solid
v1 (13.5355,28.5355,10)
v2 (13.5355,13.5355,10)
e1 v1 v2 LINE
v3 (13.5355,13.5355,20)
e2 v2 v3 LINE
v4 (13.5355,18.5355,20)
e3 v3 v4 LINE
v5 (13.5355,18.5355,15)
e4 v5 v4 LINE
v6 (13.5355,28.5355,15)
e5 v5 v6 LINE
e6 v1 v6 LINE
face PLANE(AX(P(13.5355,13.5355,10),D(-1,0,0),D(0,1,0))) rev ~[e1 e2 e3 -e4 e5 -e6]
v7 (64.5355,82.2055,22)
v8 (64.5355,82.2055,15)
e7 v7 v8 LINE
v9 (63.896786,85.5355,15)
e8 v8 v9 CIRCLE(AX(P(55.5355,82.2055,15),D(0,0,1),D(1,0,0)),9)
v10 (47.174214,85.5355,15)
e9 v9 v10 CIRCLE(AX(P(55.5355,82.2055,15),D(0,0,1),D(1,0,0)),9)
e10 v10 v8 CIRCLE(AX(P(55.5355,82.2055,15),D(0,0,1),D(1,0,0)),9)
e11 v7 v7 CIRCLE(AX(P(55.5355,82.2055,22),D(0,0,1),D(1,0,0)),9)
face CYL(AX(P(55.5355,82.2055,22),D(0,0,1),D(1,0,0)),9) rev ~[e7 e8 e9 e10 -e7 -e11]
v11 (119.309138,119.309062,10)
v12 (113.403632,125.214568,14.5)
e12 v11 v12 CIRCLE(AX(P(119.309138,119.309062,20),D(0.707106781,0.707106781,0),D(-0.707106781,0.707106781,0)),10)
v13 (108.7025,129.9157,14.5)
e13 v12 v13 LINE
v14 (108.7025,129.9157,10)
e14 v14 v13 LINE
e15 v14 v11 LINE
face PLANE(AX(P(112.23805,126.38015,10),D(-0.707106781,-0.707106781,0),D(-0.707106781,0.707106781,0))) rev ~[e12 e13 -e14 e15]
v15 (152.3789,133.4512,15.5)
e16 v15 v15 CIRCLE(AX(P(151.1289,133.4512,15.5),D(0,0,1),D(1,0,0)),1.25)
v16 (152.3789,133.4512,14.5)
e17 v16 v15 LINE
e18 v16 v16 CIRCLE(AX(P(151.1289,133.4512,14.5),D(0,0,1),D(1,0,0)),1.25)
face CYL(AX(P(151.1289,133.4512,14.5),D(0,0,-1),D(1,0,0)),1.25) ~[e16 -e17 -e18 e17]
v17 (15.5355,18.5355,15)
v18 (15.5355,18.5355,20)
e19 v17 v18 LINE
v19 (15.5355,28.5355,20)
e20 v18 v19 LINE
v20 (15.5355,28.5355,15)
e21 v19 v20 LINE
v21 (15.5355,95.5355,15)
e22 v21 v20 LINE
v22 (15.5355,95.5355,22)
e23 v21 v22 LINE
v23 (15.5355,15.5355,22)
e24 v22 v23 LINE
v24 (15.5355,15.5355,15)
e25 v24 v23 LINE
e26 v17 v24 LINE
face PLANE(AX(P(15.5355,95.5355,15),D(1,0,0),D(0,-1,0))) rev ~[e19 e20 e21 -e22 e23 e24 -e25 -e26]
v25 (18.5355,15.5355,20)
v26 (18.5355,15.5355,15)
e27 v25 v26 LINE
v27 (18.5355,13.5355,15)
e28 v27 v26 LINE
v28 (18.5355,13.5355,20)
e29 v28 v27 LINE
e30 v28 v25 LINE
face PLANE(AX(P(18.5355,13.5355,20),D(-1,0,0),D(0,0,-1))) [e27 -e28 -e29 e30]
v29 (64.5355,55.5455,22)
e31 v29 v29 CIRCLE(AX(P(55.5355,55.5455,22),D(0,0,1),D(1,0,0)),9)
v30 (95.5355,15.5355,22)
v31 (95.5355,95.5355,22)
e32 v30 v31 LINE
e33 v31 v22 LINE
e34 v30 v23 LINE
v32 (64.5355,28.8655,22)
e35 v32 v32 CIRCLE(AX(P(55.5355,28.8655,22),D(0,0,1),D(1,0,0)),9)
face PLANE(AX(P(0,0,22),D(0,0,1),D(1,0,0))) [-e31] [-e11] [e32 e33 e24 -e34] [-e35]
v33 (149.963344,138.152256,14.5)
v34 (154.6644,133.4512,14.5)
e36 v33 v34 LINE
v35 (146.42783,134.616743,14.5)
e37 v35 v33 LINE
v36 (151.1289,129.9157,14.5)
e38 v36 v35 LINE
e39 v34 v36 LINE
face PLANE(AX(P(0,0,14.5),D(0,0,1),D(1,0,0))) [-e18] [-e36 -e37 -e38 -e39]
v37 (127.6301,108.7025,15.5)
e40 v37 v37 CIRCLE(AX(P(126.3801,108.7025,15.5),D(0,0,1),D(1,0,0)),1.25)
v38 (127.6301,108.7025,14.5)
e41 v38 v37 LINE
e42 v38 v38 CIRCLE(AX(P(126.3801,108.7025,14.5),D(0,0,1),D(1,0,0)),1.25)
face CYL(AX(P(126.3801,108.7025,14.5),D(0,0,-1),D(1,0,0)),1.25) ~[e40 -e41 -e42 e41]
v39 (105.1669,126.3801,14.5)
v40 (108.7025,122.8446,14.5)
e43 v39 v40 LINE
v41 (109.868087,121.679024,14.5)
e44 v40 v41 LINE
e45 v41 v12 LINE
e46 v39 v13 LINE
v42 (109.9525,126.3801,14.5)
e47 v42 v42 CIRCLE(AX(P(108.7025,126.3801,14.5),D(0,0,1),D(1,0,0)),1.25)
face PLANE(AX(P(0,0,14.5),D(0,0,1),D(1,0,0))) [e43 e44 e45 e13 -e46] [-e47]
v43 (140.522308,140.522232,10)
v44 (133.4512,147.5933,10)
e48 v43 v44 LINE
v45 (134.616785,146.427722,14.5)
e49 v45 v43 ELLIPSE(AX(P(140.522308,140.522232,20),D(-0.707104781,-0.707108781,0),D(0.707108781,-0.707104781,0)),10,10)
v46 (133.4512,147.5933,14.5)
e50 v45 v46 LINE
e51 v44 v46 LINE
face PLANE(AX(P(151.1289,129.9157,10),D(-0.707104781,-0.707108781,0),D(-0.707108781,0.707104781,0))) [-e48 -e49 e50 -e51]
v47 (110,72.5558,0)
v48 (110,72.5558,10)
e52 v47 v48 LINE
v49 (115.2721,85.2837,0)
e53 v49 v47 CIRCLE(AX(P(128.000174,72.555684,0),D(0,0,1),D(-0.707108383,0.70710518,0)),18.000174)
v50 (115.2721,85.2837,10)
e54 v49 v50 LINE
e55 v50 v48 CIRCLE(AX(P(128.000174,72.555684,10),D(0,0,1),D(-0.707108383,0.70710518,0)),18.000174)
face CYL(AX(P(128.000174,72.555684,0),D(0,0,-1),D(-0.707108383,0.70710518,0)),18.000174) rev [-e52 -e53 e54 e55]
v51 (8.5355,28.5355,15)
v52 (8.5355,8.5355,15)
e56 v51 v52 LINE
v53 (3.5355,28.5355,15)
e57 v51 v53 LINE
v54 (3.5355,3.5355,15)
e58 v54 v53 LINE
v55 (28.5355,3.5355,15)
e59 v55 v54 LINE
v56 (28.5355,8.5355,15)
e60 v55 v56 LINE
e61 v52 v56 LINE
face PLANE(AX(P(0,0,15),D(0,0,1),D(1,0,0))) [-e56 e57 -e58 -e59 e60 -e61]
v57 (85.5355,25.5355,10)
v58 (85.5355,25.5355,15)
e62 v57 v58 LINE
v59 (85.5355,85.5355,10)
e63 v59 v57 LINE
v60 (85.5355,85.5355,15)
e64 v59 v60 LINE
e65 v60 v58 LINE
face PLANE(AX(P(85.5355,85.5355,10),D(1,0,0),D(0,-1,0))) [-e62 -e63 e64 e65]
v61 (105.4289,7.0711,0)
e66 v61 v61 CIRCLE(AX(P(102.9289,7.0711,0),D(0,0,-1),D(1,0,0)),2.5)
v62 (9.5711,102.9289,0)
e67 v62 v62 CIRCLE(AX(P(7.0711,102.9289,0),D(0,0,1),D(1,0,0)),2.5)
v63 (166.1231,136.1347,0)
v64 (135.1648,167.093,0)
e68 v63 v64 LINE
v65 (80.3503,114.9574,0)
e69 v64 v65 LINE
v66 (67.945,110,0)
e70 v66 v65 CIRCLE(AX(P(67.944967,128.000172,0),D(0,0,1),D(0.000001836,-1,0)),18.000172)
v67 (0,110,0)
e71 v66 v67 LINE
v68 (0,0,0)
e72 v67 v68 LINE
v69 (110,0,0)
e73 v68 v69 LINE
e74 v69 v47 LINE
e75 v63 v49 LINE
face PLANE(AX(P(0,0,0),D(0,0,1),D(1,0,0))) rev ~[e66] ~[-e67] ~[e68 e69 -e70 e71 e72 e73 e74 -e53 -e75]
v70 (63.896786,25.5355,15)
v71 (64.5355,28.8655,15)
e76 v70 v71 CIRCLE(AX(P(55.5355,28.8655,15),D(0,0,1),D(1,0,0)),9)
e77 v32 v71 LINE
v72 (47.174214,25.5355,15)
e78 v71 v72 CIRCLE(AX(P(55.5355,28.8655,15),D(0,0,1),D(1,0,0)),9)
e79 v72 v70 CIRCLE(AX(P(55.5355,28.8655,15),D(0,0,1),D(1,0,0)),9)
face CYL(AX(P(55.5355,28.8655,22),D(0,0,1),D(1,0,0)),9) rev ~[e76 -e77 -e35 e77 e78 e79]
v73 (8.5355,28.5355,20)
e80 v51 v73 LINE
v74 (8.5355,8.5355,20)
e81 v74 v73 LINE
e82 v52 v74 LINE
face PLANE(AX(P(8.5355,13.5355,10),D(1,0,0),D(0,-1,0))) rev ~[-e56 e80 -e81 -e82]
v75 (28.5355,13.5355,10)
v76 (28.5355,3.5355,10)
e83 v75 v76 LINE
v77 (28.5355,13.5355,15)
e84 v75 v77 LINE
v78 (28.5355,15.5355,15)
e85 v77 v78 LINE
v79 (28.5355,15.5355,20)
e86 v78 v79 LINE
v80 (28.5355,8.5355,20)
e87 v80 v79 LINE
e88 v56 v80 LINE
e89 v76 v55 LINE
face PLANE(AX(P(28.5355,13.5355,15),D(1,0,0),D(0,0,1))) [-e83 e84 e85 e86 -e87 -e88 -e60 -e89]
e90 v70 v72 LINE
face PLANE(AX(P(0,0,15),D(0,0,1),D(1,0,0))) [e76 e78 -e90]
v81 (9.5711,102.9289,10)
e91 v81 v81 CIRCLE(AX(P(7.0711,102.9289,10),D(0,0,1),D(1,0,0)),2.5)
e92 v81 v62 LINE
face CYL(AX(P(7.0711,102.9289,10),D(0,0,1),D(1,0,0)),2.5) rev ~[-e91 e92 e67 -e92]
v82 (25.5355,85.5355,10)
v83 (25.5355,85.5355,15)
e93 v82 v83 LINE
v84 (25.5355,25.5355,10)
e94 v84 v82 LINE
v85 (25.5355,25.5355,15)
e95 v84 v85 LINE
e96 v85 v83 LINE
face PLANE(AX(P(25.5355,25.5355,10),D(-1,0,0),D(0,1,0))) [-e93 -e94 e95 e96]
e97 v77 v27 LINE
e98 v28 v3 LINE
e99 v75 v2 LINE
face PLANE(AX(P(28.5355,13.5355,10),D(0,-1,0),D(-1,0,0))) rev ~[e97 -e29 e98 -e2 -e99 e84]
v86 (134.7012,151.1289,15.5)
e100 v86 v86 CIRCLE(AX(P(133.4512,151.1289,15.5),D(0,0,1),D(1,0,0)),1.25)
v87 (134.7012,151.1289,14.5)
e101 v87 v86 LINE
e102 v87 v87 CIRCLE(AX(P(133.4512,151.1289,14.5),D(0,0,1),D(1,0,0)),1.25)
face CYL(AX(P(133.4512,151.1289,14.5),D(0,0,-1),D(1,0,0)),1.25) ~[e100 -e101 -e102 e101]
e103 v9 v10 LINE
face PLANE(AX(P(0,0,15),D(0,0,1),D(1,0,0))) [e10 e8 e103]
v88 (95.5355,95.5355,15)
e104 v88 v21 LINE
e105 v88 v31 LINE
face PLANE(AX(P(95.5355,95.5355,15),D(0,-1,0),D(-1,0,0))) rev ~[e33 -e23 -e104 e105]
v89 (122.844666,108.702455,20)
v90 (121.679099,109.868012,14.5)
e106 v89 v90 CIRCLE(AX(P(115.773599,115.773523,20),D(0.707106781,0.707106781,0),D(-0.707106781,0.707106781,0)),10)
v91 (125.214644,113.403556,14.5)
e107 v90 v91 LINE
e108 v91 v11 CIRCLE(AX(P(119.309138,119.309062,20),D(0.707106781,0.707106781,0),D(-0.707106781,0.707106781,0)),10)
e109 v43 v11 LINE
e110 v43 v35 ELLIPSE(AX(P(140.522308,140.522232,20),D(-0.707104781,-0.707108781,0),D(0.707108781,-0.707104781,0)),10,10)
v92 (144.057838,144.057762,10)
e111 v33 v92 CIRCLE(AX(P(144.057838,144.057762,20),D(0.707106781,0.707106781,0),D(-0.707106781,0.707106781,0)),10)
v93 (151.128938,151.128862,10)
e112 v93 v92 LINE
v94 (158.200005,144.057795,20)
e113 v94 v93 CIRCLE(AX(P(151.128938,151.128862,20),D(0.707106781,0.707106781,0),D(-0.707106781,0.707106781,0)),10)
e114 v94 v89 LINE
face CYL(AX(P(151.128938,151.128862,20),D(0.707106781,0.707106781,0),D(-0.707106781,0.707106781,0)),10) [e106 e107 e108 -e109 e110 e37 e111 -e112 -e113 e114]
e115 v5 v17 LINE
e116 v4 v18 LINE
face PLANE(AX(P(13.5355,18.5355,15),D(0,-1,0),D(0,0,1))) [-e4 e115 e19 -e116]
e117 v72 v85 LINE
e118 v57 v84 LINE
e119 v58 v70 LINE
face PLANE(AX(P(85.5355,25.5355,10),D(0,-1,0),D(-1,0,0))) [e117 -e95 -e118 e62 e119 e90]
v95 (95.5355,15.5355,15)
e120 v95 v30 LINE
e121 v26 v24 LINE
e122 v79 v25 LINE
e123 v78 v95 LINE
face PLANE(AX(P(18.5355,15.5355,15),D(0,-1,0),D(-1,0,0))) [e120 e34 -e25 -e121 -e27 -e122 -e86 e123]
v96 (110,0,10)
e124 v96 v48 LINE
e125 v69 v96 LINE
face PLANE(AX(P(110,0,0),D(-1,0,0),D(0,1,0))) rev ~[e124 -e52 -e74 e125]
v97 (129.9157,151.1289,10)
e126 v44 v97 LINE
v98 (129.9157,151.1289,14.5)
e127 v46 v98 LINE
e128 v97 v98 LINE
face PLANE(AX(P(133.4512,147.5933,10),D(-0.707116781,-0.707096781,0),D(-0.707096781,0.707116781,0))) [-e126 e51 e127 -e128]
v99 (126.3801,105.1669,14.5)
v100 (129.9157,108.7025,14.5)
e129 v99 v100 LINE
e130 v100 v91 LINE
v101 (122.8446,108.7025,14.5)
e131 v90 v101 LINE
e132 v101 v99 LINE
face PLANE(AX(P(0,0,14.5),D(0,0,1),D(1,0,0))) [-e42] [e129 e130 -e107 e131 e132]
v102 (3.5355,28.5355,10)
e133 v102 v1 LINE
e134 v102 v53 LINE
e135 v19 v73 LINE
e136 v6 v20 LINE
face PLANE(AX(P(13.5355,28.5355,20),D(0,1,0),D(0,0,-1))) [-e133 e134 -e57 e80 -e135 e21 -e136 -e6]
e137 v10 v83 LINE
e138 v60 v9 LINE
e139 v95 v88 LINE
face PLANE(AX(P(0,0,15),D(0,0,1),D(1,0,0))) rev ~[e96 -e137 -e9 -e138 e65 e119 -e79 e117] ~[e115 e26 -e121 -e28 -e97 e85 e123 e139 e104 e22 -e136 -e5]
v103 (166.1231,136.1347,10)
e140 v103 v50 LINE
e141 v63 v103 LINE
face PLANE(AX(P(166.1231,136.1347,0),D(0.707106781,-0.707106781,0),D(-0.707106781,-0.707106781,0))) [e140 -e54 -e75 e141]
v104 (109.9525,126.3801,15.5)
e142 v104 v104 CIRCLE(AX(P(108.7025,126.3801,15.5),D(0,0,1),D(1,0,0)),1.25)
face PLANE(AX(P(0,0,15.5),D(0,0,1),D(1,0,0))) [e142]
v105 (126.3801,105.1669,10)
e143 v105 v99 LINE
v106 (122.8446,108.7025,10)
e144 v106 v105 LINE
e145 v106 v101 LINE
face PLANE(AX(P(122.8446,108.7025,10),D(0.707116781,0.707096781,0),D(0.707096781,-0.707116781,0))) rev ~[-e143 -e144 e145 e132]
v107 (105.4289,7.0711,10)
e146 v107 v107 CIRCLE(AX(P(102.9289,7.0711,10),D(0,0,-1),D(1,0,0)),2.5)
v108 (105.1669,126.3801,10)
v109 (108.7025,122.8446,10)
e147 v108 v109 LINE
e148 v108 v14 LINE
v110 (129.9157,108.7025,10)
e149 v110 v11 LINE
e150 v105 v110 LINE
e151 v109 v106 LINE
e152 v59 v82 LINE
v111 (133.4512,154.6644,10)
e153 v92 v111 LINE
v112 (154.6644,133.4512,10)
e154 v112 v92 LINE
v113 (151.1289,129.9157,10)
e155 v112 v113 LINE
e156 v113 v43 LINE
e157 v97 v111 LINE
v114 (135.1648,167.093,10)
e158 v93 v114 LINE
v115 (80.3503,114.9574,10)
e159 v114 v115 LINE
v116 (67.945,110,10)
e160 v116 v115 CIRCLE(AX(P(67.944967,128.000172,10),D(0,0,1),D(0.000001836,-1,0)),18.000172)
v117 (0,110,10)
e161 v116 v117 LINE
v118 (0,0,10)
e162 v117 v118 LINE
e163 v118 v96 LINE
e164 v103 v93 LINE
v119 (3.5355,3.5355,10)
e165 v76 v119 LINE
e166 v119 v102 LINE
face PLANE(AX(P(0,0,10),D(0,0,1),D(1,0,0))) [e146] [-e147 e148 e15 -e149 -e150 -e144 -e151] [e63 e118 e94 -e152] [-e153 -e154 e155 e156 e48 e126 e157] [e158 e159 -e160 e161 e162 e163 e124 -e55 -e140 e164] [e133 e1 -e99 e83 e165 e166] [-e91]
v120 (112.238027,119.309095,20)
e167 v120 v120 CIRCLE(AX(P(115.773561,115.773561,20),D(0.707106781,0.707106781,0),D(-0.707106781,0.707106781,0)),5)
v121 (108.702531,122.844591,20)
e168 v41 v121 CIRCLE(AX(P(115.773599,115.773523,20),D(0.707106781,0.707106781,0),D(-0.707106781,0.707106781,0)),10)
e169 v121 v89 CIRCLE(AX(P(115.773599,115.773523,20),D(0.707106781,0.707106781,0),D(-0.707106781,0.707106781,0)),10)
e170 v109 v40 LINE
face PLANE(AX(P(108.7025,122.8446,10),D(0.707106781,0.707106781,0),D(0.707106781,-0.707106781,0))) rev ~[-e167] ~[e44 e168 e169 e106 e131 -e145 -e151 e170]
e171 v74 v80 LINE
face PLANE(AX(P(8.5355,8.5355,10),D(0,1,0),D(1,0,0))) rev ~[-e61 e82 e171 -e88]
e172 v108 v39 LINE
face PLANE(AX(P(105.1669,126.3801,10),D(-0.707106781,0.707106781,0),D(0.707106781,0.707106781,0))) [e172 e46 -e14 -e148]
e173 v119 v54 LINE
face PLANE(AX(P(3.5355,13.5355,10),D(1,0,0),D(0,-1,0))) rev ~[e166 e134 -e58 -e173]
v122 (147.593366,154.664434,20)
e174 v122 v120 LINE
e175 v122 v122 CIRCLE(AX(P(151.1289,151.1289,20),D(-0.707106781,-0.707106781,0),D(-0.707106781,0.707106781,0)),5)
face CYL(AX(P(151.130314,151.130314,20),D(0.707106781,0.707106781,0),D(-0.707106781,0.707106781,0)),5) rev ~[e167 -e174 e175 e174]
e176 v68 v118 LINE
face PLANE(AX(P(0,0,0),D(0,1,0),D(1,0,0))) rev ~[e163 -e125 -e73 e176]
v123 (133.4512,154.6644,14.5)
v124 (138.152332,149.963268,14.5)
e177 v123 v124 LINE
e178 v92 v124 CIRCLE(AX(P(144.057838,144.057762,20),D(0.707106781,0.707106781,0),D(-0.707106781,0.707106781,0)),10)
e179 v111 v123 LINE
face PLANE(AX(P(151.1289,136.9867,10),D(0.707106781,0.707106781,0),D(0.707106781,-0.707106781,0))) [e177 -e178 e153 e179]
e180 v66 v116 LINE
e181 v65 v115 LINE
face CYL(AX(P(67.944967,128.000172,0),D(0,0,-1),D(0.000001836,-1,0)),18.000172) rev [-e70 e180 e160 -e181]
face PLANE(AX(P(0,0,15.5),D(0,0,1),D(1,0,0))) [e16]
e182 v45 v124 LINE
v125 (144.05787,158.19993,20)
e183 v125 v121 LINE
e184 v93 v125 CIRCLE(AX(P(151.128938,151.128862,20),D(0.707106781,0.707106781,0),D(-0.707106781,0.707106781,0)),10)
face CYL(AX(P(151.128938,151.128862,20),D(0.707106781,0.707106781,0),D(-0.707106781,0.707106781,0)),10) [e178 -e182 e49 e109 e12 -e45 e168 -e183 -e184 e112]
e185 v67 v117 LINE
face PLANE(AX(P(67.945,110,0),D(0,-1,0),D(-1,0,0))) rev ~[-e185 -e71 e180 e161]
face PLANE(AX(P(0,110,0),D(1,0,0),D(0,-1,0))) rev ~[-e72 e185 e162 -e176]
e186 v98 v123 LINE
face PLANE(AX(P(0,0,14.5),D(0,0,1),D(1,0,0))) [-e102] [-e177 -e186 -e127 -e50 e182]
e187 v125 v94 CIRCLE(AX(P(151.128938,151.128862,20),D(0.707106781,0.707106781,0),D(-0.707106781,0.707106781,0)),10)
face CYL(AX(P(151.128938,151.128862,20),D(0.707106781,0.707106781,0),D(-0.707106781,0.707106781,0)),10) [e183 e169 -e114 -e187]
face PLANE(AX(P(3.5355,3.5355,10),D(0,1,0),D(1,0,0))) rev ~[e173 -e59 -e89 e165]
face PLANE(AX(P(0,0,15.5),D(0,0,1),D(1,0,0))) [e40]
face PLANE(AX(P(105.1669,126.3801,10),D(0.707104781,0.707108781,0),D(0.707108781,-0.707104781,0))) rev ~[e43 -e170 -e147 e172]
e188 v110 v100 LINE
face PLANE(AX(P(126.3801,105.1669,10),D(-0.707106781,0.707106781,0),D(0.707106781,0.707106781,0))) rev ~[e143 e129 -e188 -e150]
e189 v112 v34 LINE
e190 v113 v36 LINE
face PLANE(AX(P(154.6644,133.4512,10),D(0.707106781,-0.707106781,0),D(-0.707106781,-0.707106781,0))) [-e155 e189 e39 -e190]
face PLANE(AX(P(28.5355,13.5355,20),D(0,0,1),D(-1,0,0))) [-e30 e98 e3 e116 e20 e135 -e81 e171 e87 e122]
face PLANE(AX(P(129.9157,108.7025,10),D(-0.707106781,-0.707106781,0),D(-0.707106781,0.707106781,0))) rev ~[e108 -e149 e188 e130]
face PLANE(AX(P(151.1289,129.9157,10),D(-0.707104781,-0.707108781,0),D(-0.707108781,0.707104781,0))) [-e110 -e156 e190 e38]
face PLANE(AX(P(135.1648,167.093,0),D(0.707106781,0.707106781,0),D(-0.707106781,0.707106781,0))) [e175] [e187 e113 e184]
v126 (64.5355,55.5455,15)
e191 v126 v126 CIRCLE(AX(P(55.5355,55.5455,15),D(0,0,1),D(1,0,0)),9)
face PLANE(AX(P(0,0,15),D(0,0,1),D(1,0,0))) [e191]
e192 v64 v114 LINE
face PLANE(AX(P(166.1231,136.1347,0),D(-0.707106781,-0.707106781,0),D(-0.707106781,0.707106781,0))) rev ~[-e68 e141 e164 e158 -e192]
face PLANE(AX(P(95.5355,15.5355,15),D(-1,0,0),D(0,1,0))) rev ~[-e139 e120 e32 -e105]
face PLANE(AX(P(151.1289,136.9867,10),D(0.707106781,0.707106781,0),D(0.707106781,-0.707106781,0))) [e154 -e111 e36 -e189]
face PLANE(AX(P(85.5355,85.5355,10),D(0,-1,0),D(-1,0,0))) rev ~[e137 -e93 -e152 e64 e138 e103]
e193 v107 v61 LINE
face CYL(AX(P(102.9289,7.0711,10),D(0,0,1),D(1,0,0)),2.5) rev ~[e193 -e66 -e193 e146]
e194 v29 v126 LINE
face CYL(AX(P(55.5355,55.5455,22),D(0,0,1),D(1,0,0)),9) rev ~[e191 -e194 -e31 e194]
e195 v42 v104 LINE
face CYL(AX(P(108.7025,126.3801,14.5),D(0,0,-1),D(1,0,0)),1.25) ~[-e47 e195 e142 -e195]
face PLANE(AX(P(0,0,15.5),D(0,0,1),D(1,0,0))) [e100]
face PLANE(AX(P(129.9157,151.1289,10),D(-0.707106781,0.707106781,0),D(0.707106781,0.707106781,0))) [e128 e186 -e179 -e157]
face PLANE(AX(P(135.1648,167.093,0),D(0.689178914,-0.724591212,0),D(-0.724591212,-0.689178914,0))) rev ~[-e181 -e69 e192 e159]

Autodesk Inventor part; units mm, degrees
ref_plane "YZ Plane" through (0, 0, 0) normal (1, 0, 0) x (0, 1, 0)
ref_plane "XZ Plane" through (0, 0, 0) normal (0, 1, 0) x (-1, 0, 0)
ref_plane "XY Plane" through (0, 0, 0) normal (0, 0, 1) x (1, 0, 0)
sketch "Náčrt1" plane through (0, 0, 0) normal (0, 0, 1) x (1, 0, 0)
  line L0 (0, 0) -> (110, 0)
  line L1 (110, 0) -> (110, 72.5558)
  line L2 (67.945, 110) -> (0, 110)
  line L3 (0, 110) -> (0, 0)
  line L4 (0, 0) -> (268.4899, 0) construction
  line L5 (166.1231, 136.1347) -> (115.2721, 85.2837)
  line L6 (135.1648, 167.093) -> (80.3503, 114.9574)
  line L7 (166.1231, 136.1347) -> (135.1648, 167.093)
  arc A0 (115.2721, 85.2837) -> (110, 72.5558) centre (128, 72.5558) ccw
  arc A1 (67.945, 110) -> (80.3503, 114.9574) centre (67.945, 128) ccw
extrude "Vysunutí1" add sketch "Náčrt1" along normal blind 10
sketch "Náčrt2" plane through (0, 0, 10) normal (0, 0, 1) x (1, 0, 0)
  line L0 (0, 0) -> (110, 0) projected
  line L1 (0, 0) -> (5, 0) construction
  line L2 (3.5355, 3.5355) -> (13.5355, 3.5355)
  line L3 (8.5355, 28.5355) -> (3.5355, 28.5355)
  line L4 (3.5355, 28.5355) -> (3.5355, 3.5355)
  line L5 (3.5355, 3.5355) -> (28.5355, 3.5355)
  line L6 (28.5355, 3.5355) -> (28.5355, 8.5355)
  line L7 (3.5355, 13.5355) -> (3.5355, 3.5355)
  line L8 (13.5355, 28.5355) -> (8.5355, 28.5355)
  line L9 (8.5355, 28.5355) -> (8.5355, 13.5355)
  line L10 (13.5355, 13.5355) -> (13.5355, 18.5355)
  line L11 (28.5355, 13.5355) -> (13.5355, 13.5355)
  line L12 (8.5355, 13.5355) -> (8.5355, 8.5355)
  line L13 (8.5355, 8.5355) -> (28.5355, 8.5355)
  line L14 (28.5355, 8.5355) -> (28.5355, 13.5355)
  line L15 (13.5355, 28.5355) -> (13.5355, 18.5355)
  line L16 (13.5355, 18.5355) -> (8.5355, 18.5355)
extrude "Vysunutí2" add sketch "Náčrt2" along normal blind 5 contours L4 L3 L9 L12 L13 L6 L5 L2
extrude "Vysunutí3" add sketch "Náčrt2" along normal blind 10 contours L13 L12 L9 L16 L10 L11 L14 | L8 L15 L16 L9
sketch "Náčrt5" plane through (13.5355, 13.5355, 10) normal (1, 0, 0) x (0, 0, -1)
  line L0 (-5, -5) -> (-5, 15) projected
  line L1 (-10, 15) -> (-5, 15)
  line L2 (-5, 15) -> (-5, 5)
  line L3 (-5, 5) -> (-10, 5)
  line L4 (-10, 5) -> (-10, 15)
  point P0 (10, -13.5355)
extrude "Vysunutí4" add sketch "Náčrt5" along normal blind 2
sketch "Náčrt7" plane through (13.5355, 13.5355, 10) normal (0, 1, 0) x (1, 0, 0)
  line L0 (15, -10) -> (0, -10) projected
  line L1 (15, -5) -> (-5, -5) projected
  line L2 (15, -10) -> (5, -10)
  line L3 (5, -10) -> (5, -5)
  line L4 (5, -5) -> (15, -5)
  line L5 (15, -5) -> (15, -10)
  point P0 (-13.5355, 10)
extrude "Vysunutí5" add sketch "Náčrt7" along normal blind 2
sketch "Náčrt8" plane through (0, 0, 10) normal (0, 0, 1) x (1, 0, 0)
  line L0 (0, 110) -> (0, 0) projected
  line L1 (0, 110) -> (10, 110) construction
  circle A0 centre (7.0711, 102.9289) radius 2.5
extrude "Vysunutí6" cut sketch "Náčrt8" against normal blind 20
sketch "Náčrt9" plane through (0, 0, 10) normal (0, 0, 1) x (1, 0, 0)
  line L0 (0, 0) -> (110, 0) projected
  line L1 (110, 0) -> (102.9289, 7.0711)
  line L2 (110, 0) -> (120, 0) construction
  circle A0 centre (102.9289, 7.0711) radius 2.5
  dimension "d36" = 5
extrude "Vysunutí7" cut sketch "Náčrt9" against normal blind 20
sketch "Náčrt13" plane through (135.1648, 167.093, 0) normal (0.7071, 0.7071, 0) x (-0.7071, 0.7071, 0)
  line L0 (-22.5767, 0) -> (-22.5767, 10) projected
  line L1 (-22.5767, 15) -> (-22.5767, 20) projected
  line L2 (-22.5767, 20) -> (-36.7188, 20) projected
  line L3 (55.2051, 10) -> (-22.5767, 10) projected
  circle A0 centre (-22.5767, 20) radius 10
  dimension "d43" = 10
extrude "Vysunutí8" add sketch "Náčrt13" against normal blind 50
sketch "Náčrt14" plane through (151.1289, 151.1289, 20) normal (0.7071, 0.7071, 0) x (-0.7071, 0.7071, 0)
  line L0 (0, 0) -> (-14.1421, 0) projected
  circle A0 centre (0, 0) radius 5
  line L1 (0, -5) -> (14.1421, -5) projected
  point P0 (0, -20)
extrude "Vysunutí9" cut sketch "Náčrt14" against normal blind 50
sketch "Náčrt15" plane through (0, 0, 10) normal (0, 0, 1) x (1, 0, 0)
  line L0 (108.7025, 122.8446) -> (122.8446, 108.7025) projected
  line L1 (122.8446, 108.7025) -> (126.3801, 105.1669)
  line L2 (115.2721, 85.2837) -> (166.1231, 136.1347) projected
  line L3 (126.3801, 105.1669) -> (129.9157, 108.7025)
  line L4 (129.9157, 108.7025) -> (108.7025, 129.9157)
  line L5 (112.238, 126.3801) -> (108.7025, 129.9157)
  line L6 (105.1669, 126.3801) -> (108.7025, 129.9157)
  line L7 (105.1669, 126.3801) -> (122.8446, 108.7025)
  point P0 (0, 0)
  point P1 (115.7735, 115.7735)
  dimension "d48" = 5
extrude "Vysunutí10" add sketch "Náčrt15" along normal blind 4.5
sketch "Náčrt16" plane through (0, 0, 10) normal (0, 0, 1) x (1, 0, 0)
  line L0 (119.3091, 119.3091) -> (129.9157, 108.7025) projected
  line L1 (151.1289, 136.9867) -> (154.6644, 133.4512)
  line L2 (154.6644, 133.4512) -> (151.1289, 129.9157)
  line L3 (151.1289, 129.9157) -> (133.4512, 147.5933)
  line L4 (135.1648, 167.093) -> (80.3503, 114.9574) projected
  line L5 (133.4512, 154.6644) -> (151.1289, 136.9867)
  line L6 (144.0578, 158.1999) -> (108.7025, 122.8446) projected
  line L7 (133.4512, 147.5933) -> (129.9157, 151.1289)
  line L8 (129.9157, 151.1289) -> (133.4512, 154.6644)
  point P0 (0, 0)
extrude "Vysunutí11" add sketch "Náčrt16" along normal blind 4.5
sketch "Náčrt17" plane through (0, 0, 14.5) normal (0, 0, 1) x (1, 0, 0)
  line L0 (108.7025, 129.9157) -> (105.1669, 126.3801) projected
  circle A0 centre (108.7025, 126.3801) radius 1.25
  point P0 (0, 0)
extrude "Vysunutí12" add sketch "Náčrt17" along normal blind 1
sketch "Náčrt18" plane through (0, 0, 14.5) normal (0, 0, 1) x (1, 0, 0)
  line L0 (140.5223, 140.5223) -> (129.9157, 151.1289) projected
  line L1 (129.9157, 151.1289) -> (133.4512, 154.6644) projected
  circle A0 centre (133.4512, 151.1289) radius 1.25
  point P0 (0, 0)
extrude "Vysunutí13" add sketch "Náčrt18" along normal blind 1
sketch "Náčrt19" plane through (0, 0, 14.5) normal (0, 0, 1) x (1, 0, 0)
  line L0 (154.6644, 133.4512) -> (151.1289, 129.9157) projected
  circle A0 centre (151.1289, 133.4512) radius 1.25
  point P0 (0, 0)
extrude "Vysunutí14" add sketch "Náčrt19" along normal blind 1
sketch "Náčrt20" plane through (0, 0, 14.5) normal (0, 0, 1) x (1, 0, 0)
  line L0 (119.3091, 119.3091) -> (129.9157, 108.7025) projected
  line L1 (126.3801, 105.1669) -> (105.1669, 126.3801) projected
  circle A0 centre (126.3801, 108.7025) radius 1.25
  point P0 (0, 0)
extrude "Vysunutí15" add sketch "Náčrt20" along normal blind 1
sketch "Náčrt22" plane through (0, 0, 15) normal (0, 0, 1) x (1, 0, 0)
  line L0 (18.5355, 13.5355) -> (18.5355, 15.5355) projected
  line L1 (18.5355, 15.5355) -> (15.5355, 15.5355)
  line L2 (15.5355, 15.5355) -> (95.5355, 15.5355)
  line L3 (95.5355, 15.5355) -> (95.5355, 95.5355)
  line L4 (95.5355, 95.5355) -> (15.5355, 95.5355)
  line L5 (15.5355, 95.5355) -> (15.5355, 15.5355)
  point P0 (0, 0)
  dimension "d63" = 80
  dimension "d64" = 80
extrude "Vysunutí16" add sketch "Náčrt22" along normal blind 7
sketch "Náčrt25" plane through (0, 0, 10) normal (0, 0, 1) x (1, 0, 0)
  line L0 (95.5355, 95.5355) -> (95.5355, 85.5355)
  line L1 (95.5355, 15.5355) -> (95.5355, 95.5355) projected
  line L2 (15.5355, 95.5355) -> (15.5355, 15.5355) projected
  line L3 (85.5355, 85.5355) -> (25.5355, 85.5355)
  line L4 (95.5355, 85.5355) -> (85.5355, 85.5355)
  line L5 (85.5355, 85.5355) -> (85.5355, 25.5355)
  line L6 (85.5355, 25.5355) -> (25.5355, 25.5355)
  line L7 (25.5355, 25.5355) -> (25.5355, 85.5355)
  point P0 (0, 0)
extrude "Vysunutí17" add sketch "Náčrt25" along normal blind 5
sketch "Náčrt26" plane through (0, 0, 22) normal (0, 0, 1) x (1, 0, 0)
  line L0 (95.5355, 95.5355) -> (15.5355, 95.5355) projected
  line L1 (28.5355, 15.5355) -> (95.5355, 15.5355) projected
  circle A0 centre (55.5355, 82.2055) radius 9
  circle A1 centre (55.5355, 55.5455) radius 9
  circle A2 centre (55.5355, 28.8655) radius 9
  point P0 (0, 0)
extrude "Vysunutí18" cut sketch "Náčrt26" against normal blind 7
sketch "Náčrt29" plane through (0, 0, 10) normal (0, 0, 1) x (1, 0, 0)
  point P0 (0, 0)
properties part number "Součást1"
